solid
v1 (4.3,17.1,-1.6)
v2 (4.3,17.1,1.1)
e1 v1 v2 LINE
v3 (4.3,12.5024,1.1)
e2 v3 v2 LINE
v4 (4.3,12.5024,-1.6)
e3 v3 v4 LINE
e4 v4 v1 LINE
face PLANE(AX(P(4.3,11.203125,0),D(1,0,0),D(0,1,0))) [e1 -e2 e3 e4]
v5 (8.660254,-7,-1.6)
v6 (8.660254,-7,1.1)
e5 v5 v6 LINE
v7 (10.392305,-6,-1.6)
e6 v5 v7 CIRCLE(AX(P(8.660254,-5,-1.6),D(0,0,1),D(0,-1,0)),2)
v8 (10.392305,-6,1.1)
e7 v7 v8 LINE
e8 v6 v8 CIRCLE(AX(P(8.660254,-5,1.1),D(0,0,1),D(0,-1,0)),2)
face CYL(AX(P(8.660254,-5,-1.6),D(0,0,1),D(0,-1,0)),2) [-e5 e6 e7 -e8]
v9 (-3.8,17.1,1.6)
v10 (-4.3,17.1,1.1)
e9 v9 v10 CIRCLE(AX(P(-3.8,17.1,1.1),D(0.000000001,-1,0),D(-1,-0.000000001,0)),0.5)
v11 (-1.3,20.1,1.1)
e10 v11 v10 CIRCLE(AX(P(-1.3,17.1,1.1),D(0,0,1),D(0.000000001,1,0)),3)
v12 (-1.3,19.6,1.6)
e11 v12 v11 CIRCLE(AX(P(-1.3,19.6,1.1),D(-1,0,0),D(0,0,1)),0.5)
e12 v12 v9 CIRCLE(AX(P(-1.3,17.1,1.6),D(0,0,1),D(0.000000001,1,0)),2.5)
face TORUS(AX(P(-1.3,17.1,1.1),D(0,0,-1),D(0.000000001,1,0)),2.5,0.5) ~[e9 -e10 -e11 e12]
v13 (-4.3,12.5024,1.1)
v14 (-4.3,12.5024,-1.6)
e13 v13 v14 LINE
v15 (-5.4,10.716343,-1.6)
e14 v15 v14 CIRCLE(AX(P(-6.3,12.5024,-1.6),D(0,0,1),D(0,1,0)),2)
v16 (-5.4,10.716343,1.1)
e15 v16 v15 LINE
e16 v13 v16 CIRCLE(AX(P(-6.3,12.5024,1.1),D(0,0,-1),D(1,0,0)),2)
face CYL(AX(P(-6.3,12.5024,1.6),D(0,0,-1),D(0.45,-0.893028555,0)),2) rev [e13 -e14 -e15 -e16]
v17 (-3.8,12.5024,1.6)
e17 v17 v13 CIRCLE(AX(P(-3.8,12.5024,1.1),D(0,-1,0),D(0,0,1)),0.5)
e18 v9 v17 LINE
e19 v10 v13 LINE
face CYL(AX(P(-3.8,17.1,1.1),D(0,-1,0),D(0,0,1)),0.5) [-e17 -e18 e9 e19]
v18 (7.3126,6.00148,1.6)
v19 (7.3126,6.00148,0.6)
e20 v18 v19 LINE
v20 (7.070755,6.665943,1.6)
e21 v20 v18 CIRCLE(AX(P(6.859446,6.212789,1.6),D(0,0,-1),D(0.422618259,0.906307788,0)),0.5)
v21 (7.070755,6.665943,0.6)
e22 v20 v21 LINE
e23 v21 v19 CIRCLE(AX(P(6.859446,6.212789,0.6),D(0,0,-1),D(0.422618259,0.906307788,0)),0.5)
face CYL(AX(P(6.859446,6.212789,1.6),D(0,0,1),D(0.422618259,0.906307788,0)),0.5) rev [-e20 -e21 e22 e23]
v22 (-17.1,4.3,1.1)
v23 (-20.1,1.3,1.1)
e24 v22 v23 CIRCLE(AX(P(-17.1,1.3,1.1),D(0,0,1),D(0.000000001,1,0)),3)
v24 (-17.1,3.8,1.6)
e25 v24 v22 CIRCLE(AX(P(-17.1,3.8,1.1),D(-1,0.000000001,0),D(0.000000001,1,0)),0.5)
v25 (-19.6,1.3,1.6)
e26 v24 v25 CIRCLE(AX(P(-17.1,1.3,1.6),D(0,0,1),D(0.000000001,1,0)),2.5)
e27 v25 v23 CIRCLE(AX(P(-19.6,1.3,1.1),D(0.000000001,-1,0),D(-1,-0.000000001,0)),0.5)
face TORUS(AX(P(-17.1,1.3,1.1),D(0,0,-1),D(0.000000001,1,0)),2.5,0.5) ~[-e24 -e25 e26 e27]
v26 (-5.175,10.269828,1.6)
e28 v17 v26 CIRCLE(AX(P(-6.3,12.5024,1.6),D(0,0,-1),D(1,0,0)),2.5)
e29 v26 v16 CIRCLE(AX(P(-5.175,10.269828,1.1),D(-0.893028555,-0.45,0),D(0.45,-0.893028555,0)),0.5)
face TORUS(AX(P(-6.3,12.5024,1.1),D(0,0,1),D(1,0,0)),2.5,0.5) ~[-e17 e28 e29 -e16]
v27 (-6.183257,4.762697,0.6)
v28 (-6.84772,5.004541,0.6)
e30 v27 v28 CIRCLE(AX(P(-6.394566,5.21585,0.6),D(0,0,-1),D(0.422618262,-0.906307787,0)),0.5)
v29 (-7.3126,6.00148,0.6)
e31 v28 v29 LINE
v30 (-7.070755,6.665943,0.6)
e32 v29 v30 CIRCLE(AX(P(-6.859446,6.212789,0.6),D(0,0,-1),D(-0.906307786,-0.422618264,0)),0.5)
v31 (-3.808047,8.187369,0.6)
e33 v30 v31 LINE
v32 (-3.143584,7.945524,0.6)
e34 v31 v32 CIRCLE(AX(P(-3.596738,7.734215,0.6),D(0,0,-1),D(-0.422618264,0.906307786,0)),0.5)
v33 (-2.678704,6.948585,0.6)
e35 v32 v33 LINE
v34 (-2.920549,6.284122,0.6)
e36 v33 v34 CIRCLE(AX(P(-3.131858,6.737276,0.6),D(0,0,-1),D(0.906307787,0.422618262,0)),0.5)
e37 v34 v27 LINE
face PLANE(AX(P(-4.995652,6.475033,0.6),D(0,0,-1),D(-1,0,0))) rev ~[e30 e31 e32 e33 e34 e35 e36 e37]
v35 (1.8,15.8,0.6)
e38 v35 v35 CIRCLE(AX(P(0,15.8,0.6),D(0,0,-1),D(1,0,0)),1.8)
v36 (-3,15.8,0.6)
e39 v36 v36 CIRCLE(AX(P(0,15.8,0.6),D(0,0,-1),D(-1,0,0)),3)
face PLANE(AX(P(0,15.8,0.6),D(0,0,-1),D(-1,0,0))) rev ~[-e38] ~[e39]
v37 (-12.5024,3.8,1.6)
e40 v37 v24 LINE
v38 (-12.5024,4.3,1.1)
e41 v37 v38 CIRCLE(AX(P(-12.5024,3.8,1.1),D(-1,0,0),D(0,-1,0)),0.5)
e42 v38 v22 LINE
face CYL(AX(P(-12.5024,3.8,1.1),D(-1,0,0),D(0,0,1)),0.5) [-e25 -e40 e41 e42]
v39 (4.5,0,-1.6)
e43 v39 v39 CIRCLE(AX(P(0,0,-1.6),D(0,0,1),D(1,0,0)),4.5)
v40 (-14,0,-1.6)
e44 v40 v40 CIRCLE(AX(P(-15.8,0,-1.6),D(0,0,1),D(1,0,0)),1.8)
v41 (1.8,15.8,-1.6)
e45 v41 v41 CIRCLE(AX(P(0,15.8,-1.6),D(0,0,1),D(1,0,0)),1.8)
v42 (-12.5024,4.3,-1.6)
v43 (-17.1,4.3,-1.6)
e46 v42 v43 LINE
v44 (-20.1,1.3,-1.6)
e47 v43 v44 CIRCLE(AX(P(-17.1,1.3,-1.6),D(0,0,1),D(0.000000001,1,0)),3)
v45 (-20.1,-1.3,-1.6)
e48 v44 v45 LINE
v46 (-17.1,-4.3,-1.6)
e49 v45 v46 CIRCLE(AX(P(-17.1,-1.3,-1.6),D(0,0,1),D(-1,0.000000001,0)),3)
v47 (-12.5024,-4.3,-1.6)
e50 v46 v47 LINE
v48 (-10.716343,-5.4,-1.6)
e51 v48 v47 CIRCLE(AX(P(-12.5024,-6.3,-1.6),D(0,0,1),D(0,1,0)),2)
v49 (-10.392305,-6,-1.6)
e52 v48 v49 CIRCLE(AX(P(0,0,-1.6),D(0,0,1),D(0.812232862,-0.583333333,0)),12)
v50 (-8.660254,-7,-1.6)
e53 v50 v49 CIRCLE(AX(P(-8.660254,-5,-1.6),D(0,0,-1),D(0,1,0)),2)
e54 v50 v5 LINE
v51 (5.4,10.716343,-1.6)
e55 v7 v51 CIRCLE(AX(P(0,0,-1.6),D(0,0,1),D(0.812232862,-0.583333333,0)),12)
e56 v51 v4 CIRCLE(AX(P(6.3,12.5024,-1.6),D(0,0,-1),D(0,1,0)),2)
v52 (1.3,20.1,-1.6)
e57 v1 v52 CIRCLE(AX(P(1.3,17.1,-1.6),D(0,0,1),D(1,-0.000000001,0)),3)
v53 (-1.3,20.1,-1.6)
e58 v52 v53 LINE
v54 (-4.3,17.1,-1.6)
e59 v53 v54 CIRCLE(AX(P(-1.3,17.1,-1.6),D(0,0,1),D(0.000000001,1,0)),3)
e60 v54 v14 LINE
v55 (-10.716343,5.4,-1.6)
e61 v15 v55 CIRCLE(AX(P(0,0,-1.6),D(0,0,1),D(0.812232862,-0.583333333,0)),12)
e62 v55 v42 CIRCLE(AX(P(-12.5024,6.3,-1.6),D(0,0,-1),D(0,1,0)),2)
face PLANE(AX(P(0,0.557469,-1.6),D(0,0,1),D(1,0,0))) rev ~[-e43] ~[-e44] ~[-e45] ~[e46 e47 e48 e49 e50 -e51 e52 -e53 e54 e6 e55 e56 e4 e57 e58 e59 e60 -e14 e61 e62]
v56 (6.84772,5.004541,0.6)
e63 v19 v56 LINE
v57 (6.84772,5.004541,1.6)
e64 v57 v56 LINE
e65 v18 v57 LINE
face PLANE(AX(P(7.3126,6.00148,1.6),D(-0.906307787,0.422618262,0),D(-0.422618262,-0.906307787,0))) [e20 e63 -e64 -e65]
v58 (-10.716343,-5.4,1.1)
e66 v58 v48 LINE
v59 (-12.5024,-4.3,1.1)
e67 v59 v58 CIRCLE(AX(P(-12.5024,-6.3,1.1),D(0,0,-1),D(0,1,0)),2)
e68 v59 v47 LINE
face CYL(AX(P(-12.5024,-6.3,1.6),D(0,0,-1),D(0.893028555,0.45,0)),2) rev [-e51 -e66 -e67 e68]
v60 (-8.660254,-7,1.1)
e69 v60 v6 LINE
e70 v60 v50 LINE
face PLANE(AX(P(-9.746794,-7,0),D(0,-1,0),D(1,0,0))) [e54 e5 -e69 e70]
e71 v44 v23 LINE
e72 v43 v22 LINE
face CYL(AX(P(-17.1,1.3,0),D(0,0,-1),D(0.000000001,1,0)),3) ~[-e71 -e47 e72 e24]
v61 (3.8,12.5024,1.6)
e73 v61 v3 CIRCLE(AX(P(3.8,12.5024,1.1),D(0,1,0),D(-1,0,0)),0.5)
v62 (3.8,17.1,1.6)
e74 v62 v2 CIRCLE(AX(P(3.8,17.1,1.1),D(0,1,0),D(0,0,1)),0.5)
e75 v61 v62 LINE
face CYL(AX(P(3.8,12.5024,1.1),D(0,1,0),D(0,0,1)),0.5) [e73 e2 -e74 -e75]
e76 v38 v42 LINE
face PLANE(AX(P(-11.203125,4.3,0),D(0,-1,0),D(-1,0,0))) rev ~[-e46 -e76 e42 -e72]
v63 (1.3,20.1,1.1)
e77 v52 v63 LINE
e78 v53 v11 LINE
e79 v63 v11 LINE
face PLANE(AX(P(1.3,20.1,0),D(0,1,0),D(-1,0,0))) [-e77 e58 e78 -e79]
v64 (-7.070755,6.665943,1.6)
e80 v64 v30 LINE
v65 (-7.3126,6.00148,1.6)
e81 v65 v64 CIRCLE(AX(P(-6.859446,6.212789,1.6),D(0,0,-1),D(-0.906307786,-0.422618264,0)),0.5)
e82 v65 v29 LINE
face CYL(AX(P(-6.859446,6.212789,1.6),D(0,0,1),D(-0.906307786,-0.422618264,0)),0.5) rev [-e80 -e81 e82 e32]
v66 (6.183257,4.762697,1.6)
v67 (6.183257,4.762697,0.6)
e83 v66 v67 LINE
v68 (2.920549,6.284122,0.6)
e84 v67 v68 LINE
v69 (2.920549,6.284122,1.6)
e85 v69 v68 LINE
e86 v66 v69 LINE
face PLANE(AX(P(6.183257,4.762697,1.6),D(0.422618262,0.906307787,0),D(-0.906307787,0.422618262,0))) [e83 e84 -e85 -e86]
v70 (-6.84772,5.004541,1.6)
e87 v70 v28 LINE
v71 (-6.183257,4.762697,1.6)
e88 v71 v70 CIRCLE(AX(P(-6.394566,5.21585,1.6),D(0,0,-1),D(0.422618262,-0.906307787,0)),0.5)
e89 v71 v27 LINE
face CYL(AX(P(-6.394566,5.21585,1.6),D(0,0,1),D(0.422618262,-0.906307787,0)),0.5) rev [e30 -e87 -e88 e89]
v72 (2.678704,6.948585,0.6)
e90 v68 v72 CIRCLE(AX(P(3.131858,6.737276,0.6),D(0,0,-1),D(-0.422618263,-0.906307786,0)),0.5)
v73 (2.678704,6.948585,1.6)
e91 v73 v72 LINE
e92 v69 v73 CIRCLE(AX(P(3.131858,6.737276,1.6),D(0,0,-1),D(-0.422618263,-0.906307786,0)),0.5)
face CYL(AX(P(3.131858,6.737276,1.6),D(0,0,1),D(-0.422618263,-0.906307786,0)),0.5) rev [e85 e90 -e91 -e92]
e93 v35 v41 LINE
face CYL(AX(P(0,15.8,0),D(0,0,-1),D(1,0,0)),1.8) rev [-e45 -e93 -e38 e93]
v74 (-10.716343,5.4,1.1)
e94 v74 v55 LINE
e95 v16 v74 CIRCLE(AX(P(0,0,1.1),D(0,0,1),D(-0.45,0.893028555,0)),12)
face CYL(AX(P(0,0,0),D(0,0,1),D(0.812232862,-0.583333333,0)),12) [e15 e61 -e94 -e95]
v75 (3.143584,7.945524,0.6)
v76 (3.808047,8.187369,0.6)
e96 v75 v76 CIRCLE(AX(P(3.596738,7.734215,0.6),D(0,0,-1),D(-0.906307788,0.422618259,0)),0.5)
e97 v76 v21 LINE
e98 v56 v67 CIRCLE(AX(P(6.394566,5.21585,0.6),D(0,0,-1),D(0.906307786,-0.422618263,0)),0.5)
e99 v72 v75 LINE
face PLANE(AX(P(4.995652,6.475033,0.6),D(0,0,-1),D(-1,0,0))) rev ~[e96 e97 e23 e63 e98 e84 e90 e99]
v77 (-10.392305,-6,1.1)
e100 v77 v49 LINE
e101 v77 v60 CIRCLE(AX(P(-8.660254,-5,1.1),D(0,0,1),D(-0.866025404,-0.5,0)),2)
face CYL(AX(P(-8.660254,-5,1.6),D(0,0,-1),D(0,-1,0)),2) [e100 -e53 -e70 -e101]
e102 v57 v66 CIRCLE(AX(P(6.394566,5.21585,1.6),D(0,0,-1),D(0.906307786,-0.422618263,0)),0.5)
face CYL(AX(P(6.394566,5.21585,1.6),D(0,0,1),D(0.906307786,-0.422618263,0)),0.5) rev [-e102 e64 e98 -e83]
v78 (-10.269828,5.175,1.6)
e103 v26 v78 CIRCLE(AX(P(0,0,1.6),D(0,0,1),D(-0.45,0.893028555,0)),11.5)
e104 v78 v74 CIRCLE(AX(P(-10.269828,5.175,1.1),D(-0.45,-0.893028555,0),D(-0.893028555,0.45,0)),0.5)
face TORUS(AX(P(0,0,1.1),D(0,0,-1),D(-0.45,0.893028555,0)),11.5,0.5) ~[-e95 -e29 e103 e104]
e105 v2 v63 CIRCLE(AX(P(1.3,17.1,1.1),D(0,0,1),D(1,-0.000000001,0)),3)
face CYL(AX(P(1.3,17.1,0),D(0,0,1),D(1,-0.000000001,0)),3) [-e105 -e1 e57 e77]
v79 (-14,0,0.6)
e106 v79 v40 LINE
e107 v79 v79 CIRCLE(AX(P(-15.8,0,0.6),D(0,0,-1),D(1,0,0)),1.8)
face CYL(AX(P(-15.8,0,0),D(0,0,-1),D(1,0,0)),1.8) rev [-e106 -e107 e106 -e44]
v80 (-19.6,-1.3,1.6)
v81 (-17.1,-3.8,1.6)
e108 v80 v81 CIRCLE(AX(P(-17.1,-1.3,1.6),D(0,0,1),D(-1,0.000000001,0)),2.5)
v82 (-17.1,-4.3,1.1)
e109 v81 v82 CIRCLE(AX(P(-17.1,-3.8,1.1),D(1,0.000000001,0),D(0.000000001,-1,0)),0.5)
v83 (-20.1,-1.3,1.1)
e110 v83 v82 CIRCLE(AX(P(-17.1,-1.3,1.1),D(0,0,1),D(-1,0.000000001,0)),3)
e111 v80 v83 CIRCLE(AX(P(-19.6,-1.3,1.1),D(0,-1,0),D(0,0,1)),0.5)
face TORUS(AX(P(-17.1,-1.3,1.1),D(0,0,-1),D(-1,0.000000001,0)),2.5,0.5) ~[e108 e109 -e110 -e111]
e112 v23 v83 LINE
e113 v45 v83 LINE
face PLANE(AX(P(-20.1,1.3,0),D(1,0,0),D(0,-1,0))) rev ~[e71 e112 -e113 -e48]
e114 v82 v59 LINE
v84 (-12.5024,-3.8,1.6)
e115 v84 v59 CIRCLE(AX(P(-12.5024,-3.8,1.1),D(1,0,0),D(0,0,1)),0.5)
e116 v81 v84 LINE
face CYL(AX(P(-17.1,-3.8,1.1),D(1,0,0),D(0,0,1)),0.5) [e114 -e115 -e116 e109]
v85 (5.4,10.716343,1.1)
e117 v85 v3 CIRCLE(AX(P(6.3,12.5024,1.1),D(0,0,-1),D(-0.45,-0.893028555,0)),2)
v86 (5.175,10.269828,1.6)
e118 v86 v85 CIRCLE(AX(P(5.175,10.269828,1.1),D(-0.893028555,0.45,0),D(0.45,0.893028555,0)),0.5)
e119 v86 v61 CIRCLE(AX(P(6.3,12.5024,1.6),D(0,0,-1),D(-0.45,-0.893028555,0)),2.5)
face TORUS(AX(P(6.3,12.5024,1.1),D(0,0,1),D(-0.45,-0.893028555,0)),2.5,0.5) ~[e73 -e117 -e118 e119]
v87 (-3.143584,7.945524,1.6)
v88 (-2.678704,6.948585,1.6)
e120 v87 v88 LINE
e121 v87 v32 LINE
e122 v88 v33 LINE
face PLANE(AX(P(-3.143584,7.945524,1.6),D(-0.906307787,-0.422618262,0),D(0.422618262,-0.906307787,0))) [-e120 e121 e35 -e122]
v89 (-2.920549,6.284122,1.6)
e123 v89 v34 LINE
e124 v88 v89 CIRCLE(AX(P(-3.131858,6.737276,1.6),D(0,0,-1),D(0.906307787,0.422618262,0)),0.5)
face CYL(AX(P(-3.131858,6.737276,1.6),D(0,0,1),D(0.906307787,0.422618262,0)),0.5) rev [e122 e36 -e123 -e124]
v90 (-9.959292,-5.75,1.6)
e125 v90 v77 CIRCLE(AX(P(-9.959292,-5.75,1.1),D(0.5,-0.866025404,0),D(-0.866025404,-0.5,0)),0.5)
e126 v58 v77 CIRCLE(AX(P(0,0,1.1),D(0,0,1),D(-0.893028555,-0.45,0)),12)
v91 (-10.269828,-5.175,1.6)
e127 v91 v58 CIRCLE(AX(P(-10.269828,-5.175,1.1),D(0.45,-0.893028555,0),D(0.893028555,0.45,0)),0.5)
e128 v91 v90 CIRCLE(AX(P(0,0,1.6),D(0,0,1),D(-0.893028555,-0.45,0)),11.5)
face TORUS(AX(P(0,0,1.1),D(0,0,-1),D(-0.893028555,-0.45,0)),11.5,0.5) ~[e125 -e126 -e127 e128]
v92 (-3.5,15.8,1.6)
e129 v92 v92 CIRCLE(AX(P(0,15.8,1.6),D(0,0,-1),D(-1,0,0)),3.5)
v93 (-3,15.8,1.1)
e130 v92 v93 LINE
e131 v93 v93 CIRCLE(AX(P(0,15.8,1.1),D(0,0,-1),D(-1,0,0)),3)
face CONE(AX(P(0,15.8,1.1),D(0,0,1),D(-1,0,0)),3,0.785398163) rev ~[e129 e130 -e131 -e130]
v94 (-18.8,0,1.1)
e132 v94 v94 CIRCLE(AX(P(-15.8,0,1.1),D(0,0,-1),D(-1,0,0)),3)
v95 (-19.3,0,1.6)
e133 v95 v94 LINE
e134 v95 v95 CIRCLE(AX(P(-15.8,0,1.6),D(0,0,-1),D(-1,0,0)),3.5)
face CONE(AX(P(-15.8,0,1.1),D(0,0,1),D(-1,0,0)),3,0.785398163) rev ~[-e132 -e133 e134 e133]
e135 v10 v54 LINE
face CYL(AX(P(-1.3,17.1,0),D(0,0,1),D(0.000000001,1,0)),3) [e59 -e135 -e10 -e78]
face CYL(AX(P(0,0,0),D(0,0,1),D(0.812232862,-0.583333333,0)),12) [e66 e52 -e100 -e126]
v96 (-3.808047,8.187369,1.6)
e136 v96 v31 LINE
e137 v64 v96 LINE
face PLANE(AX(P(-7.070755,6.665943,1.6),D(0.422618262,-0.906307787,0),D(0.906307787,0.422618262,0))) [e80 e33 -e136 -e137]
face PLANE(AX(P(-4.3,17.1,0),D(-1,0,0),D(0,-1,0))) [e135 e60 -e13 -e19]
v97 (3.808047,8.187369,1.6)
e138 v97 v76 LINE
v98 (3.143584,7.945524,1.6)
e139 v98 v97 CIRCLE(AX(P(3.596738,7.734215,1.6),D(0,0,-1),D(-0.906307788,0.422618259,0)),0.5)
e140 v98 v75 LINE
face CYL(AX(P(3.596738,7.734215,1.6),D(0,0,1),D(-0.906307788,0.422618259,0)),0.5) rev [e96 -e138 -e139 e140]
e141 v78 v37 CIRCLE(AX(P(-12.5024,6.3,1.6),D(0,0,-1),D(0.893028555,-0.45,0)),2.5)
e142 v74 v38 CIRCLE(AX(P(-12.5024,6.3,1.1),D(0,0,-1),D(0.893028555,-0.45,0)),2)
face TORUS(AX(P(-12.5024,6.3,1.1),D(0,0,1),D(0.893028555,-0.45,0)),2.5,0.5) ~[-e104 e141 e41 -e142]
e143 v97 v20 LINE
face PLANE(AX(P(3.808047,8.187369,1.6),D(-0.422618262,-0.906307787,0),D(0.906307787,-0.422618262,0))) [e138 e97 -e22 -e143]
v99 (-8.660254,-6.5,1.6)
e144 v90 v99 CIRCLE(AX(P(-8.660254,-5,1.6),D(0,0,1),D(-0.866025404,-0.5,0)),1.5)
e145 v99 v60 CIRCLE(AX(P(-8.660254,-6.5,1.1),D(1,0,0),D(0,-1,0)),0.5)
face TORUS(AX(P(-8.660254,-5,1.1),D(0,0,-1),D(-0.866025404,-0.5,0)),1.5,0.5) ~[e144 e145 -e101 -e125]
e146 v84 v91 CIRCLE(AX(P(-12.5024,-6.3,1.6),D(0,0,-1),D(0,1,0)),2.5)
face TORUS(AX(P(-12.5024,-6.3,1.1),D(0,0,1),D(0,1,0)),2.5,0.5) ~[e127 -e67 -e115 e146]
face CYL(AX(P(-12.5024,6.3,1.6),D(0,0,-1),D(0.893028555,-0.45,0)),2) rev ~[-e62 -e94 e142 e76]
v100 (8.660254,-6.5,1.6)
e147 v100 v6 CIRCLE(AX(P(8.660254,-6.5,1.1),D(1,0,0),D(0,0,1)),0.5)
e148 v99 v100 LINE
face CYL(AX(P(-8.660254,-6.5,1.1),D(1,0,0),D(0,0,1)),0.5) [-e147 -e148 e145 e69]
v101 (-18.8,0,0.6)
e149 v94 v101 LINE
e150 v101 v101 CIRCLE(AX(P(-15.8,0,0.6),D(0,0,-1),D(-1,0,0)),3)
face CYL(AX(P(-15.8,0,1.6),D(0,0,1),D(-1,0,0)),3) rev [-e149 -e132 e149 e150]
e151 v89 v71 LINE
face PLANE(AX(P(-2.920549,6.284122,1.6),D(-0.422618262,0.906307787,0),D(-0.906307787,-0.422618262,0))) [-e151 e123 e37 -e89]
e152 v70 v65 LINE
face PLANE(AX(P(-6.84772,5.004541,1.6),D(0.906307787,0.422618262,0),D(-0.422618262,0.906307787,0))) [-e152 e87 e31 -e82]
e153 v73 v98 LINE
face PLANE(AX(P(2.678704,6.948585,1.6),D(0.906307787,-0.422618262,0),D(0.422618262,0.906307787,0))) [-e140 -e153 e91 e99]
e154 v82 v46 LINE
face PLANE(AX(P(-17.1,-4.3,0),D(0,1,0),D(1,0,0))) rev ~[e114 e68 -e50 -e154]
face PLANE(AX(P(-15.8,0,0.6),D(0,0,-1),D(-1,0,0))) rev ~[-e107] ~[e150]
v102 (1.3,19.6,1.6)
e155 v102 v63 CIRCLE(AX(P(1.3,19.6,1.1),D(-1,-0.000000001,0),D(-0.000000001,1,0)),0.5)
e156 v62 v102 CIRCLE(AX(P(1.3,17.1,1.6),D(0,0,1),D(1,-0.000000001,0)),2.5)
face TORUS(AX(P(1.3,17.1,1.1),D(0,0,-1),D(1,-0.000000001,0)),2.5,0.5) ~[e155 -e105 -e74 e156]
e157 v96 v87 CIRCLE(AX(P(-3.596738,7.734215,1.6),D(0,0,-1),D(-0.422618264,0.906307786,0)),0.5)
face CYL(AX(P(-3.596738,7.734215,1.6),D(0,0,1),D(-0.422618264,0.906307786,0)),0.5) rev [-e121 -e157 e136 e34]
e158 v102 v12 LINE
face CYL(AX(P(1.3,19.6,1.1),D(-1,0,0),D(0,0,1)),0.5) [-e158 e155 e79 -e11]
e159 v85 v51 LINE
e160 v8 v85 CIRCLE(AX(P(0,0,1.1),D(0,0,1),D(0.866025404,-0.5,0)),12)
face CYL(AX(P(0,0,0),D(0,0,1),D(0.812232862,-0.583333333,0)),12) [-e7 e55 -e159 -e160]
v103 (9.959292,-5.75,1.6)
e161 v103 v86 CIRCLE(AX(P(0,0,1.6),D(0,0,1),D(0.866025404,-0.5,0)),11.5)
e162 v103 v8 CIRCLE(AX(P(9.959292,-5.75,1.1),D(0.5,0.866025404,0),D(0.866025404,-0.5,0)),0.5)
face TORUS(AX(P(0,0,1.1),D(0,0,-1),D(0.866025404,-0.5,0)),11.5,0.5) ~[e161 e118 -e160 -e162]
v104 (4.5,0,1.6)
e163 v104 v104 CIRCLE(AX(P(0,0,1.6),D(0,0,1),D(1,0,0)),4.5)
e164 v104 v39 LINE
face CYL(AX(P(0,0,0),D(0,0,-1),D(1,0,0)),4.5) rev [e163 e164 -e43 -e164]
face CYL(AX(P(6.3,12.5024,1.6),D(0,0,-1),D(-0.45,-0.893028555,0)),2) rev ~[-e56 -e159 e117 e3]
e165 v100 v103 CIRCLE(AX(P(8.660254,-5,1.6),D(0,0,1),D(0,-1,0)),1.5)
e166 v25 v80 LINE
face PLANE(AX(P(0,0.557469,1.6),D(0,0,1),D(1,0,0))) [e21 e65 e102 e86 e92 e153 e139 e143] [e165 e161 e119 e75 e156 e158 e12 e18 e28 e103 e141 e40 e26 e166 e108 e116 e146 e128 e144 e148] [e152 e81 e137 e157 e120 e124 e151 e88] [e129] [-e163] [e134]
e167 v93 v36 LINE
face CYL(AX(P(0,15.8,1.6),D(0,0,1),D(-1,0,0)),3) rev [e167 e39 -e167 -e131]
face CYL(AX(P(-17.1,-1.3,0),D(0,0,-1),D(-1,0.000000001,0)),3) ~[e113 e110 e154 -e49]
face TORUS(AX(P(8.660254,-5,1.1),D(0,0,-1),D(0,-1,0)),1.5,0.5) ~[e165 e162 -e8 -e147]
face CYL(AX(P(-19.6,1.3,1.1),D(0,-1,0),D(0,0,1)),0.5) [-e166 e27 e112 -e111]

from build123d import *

# Parameters (mm, degrees)
SKETCH10_R          = 4.5
BOSS_EXTRUDE6_DEPTH = 1.6
SKETCH13_R          = 1.8
BOSS_EXTRUDE7_DEPTH = 1.6
FILLET1_R           = 2
CUT_EXTRUDE2_DEPTH  = 1
SKETCH16_R          = 3
CUT_EXTRUDE3_DEPTH  = 1
CHAMFER1_SIZE       = 0.5
FILLET2_R           = 0.5


with BuildPart() as part:
    # Sketch10 → Boss-Extrude6 (new body, symmetric)
    with BuildSketch(Plane.XY):
        with BuildLine():
            Line((-9.746794345, -7), (9.746794345, -7))
            ThreePointArc((9.746794345, -7), (0, 12), (-9.746794345, -7))
        make_face()
        Circle(SKETCH10_R, mode=Mode.SUBTRACT)
    extrude(amount=BOSS_EXTRUDE6_DEPTH, both=True)

    # Sketch13 → Boss-Extrude7 (add, symmetric)
    with BuildSketch(Plane.XY):
        with BuildLine():
            Line((-11.203124564, 4.3), (-17.1, 4.3))
            ThreePointArc((-17.1, 4.3), (-19.221320344, 3.421320344), (-20.1, 1.3))
            Line((-20.1, 1.3), (-20.1, -1.3))
            ThreePointArc((-20.1, -1.3), (-19.221320344, -3.421320344), (-17.1, -4.3))
            Line((-17.1, -4.3), (-11.203124564, -4.3))
            ThreePointArc((-11.203124564, -4.3), (-12, 0), (-11.203124564, 4.3))
        make_face()
        with Locations((-15.8, 0)):
            Circle(SKETCH13_R, mode=Mode.SUBTRACT)
        with BuildLine():
            Line((4.3, 11.203124564), (4.3, 17.1))
            ThreePointArc((4.3, 17.1), (3.421320344, 19.221320344), (1.3, 20.1))
            Line((1.3, 20.1), (-1.3, 20.1))
            ThreePointArc((-1.3, 20.1), (-3.421320344, 19.221320344), (-4.3, 17.1))
            Line((-4.3, 17.1), (-4.3, 11.203124564))
            ThreePointArc((-4.3, 11.203124564), (0, 12), (4.3, 11.203124564))
        make_face()
        with Locations((0, 15.8)):
            Circle(SKETCH13_R, mode=Mode.SUBTRACT)
    extrude(amount=BOSS_EXTRUDE7_DEPTH, both=True)

    # Fillet1
    fillet1_edges = [part.edges().sort_by_distance(p)[0] for p in [
        (-11.203124564, -4.3, 0),
        (-11.203124564, 4.3, 0),
        (-4.3, 11.203124564, 0),
        (4.3, 11.203124564, 0),
        (9.746794345, -7, 0),
        (-9.746794345, -7, 0),
    ]]
    fillet(fillet1_edges, radius=FILLET1_R)

    # Sketch15 → Cut-Extrude2 (cut)
    with BuildSketch(Plane(origin=(0, 0, 1.6), x_dir=(-1, 0, 0), z_dir=(0, 0, -1))):
        with BuildLine():
            Line((-3.808047036, 8.187368684), (-7.070755069, 6.665942941))
            ThreePointArc((-7.070755069, 6.665942941), (-7.329292249, 6.38379912), (-7.312599832, 6.001479917))
            Line((-7.312599832, 6.001479917), (-6.847719744, 5.004541351))
            ThreePointArc((-6.847719744, 5.004541351), (-6.565575922, 4.746004172), (-6.18325672, 4.762696589))
            Line((-6.18325672, 4.762696589), (-2.920548686, 6.284122331))
            ThreePointArc((-2.920548686, 6.284122331), (-2.662011507, 6.566266153), (-2.678703924, 6.948585355))
            Line((-2.678703924, 6.948585355), (-3.143584012, 7.945523921))
            ThreePointArc((-3.143584012, 7.945523921), (-3.425727833, 8.204061101), (-3.808047036, 8.187368684))
        make_face()
        with BuildLine():
            Line((6.847719744, 5.004541351), (7.312599832, 6.001479917))
            ThreePointArc((7.312599832, 6.001479917), (7.329292249, 6.38379912), (7.070755069, 6.665942941))
            Line((7.070755069, 6.665942941), (3.808047036, 8.187368684))
            ThreePointArc((3.808047036, 8.187368684), (3.425727833, 8.204061101), (3.143584012, 7.945523921))
            Line((3.143584012, 7.945523921), (2.678703924, 6.948585355))
            ThreePointArc((2.678703924, 6.948585355), (2.662011507, 6.566266153), (2.920548686, 6.284122331))
            Line((2.920548686, 6.284122331), (6.18325672, 4.762696589))
            ThreePointArc((6.18325672, 4.762696589), (6.565575922, 4.746004172), (6.847719744, 5.004541351))
        make_face()
    extrude(amount=CUT_EXTRUDE2_DEPTH, mode=Mode.SUBTRACT)

    # Sketch16 → Cut-Extrude3 (cut)
    with BuildSketch(Plane(origin=(0, 0, 1.6), x_dir=(-1, 0, 0), z_dir=(0, 0, -1))):
        with Locations((0, 15.8)):
            Circle(SKETCH16_R)
        with Locations((15.8, 0)):
            Circle(SKETCH16_R)
    extrude(amount=CUT_EXTRUDE3_DEPTH, mode=Mode.SUBTRACT)

    # Chamfer1
    chamfer1_edges = [part.edges().sort_by_distance(p)[0] for p in [
        (3, 15.8, 1.6),
        (-12.8, 0, 1.6),
    ]]
    chamfer(chamfer1_edges, length=CHAMFER1_SIZE)

    # Fillet2
    fillet2_edges = [part.edges().sort_by_distance(p)[0] for p in [
        (-19.221320344, 3.421320344, 1.6),
        (-20.1, 0, 1.6),
        (-19.221320344, -3.421320344, 1.6),
        (-14.801199885, -4.3, 1.6),
        (3.421320344, 19.221320344, 1.6),
        (0, 20.1, 1.6),
        (-3.421320344, 19.221320344, 1.6),
        (-4.3, 14.801199885, 1.6),
        (-14.801199885, 4.3, 1.6),
        (-8.485281374, 8.485281374, 1.6),
        (4.3, 14.801199885, 1.6),
        (11.498184685, 3.433911609, 1.6),
        (-10.558586547, -5.702302178, 1.6),
        (0, -7, 1.6),
        (-9.660254038, -6.732050808, 1.6),
        (9.660254038, -6.732050808, 1.6),
        (-11.453590921, 4.597061363, 1.6),
        (4.597061363, 11.453590921, 1.6),
        (-4.597061363, 11.453590921, 1.6),
        (-11.453590921, -4.597061363, 1.6),
    ]]
    fillet(fillet2_edges, radius=FILLET2_R)


solid = part.part
